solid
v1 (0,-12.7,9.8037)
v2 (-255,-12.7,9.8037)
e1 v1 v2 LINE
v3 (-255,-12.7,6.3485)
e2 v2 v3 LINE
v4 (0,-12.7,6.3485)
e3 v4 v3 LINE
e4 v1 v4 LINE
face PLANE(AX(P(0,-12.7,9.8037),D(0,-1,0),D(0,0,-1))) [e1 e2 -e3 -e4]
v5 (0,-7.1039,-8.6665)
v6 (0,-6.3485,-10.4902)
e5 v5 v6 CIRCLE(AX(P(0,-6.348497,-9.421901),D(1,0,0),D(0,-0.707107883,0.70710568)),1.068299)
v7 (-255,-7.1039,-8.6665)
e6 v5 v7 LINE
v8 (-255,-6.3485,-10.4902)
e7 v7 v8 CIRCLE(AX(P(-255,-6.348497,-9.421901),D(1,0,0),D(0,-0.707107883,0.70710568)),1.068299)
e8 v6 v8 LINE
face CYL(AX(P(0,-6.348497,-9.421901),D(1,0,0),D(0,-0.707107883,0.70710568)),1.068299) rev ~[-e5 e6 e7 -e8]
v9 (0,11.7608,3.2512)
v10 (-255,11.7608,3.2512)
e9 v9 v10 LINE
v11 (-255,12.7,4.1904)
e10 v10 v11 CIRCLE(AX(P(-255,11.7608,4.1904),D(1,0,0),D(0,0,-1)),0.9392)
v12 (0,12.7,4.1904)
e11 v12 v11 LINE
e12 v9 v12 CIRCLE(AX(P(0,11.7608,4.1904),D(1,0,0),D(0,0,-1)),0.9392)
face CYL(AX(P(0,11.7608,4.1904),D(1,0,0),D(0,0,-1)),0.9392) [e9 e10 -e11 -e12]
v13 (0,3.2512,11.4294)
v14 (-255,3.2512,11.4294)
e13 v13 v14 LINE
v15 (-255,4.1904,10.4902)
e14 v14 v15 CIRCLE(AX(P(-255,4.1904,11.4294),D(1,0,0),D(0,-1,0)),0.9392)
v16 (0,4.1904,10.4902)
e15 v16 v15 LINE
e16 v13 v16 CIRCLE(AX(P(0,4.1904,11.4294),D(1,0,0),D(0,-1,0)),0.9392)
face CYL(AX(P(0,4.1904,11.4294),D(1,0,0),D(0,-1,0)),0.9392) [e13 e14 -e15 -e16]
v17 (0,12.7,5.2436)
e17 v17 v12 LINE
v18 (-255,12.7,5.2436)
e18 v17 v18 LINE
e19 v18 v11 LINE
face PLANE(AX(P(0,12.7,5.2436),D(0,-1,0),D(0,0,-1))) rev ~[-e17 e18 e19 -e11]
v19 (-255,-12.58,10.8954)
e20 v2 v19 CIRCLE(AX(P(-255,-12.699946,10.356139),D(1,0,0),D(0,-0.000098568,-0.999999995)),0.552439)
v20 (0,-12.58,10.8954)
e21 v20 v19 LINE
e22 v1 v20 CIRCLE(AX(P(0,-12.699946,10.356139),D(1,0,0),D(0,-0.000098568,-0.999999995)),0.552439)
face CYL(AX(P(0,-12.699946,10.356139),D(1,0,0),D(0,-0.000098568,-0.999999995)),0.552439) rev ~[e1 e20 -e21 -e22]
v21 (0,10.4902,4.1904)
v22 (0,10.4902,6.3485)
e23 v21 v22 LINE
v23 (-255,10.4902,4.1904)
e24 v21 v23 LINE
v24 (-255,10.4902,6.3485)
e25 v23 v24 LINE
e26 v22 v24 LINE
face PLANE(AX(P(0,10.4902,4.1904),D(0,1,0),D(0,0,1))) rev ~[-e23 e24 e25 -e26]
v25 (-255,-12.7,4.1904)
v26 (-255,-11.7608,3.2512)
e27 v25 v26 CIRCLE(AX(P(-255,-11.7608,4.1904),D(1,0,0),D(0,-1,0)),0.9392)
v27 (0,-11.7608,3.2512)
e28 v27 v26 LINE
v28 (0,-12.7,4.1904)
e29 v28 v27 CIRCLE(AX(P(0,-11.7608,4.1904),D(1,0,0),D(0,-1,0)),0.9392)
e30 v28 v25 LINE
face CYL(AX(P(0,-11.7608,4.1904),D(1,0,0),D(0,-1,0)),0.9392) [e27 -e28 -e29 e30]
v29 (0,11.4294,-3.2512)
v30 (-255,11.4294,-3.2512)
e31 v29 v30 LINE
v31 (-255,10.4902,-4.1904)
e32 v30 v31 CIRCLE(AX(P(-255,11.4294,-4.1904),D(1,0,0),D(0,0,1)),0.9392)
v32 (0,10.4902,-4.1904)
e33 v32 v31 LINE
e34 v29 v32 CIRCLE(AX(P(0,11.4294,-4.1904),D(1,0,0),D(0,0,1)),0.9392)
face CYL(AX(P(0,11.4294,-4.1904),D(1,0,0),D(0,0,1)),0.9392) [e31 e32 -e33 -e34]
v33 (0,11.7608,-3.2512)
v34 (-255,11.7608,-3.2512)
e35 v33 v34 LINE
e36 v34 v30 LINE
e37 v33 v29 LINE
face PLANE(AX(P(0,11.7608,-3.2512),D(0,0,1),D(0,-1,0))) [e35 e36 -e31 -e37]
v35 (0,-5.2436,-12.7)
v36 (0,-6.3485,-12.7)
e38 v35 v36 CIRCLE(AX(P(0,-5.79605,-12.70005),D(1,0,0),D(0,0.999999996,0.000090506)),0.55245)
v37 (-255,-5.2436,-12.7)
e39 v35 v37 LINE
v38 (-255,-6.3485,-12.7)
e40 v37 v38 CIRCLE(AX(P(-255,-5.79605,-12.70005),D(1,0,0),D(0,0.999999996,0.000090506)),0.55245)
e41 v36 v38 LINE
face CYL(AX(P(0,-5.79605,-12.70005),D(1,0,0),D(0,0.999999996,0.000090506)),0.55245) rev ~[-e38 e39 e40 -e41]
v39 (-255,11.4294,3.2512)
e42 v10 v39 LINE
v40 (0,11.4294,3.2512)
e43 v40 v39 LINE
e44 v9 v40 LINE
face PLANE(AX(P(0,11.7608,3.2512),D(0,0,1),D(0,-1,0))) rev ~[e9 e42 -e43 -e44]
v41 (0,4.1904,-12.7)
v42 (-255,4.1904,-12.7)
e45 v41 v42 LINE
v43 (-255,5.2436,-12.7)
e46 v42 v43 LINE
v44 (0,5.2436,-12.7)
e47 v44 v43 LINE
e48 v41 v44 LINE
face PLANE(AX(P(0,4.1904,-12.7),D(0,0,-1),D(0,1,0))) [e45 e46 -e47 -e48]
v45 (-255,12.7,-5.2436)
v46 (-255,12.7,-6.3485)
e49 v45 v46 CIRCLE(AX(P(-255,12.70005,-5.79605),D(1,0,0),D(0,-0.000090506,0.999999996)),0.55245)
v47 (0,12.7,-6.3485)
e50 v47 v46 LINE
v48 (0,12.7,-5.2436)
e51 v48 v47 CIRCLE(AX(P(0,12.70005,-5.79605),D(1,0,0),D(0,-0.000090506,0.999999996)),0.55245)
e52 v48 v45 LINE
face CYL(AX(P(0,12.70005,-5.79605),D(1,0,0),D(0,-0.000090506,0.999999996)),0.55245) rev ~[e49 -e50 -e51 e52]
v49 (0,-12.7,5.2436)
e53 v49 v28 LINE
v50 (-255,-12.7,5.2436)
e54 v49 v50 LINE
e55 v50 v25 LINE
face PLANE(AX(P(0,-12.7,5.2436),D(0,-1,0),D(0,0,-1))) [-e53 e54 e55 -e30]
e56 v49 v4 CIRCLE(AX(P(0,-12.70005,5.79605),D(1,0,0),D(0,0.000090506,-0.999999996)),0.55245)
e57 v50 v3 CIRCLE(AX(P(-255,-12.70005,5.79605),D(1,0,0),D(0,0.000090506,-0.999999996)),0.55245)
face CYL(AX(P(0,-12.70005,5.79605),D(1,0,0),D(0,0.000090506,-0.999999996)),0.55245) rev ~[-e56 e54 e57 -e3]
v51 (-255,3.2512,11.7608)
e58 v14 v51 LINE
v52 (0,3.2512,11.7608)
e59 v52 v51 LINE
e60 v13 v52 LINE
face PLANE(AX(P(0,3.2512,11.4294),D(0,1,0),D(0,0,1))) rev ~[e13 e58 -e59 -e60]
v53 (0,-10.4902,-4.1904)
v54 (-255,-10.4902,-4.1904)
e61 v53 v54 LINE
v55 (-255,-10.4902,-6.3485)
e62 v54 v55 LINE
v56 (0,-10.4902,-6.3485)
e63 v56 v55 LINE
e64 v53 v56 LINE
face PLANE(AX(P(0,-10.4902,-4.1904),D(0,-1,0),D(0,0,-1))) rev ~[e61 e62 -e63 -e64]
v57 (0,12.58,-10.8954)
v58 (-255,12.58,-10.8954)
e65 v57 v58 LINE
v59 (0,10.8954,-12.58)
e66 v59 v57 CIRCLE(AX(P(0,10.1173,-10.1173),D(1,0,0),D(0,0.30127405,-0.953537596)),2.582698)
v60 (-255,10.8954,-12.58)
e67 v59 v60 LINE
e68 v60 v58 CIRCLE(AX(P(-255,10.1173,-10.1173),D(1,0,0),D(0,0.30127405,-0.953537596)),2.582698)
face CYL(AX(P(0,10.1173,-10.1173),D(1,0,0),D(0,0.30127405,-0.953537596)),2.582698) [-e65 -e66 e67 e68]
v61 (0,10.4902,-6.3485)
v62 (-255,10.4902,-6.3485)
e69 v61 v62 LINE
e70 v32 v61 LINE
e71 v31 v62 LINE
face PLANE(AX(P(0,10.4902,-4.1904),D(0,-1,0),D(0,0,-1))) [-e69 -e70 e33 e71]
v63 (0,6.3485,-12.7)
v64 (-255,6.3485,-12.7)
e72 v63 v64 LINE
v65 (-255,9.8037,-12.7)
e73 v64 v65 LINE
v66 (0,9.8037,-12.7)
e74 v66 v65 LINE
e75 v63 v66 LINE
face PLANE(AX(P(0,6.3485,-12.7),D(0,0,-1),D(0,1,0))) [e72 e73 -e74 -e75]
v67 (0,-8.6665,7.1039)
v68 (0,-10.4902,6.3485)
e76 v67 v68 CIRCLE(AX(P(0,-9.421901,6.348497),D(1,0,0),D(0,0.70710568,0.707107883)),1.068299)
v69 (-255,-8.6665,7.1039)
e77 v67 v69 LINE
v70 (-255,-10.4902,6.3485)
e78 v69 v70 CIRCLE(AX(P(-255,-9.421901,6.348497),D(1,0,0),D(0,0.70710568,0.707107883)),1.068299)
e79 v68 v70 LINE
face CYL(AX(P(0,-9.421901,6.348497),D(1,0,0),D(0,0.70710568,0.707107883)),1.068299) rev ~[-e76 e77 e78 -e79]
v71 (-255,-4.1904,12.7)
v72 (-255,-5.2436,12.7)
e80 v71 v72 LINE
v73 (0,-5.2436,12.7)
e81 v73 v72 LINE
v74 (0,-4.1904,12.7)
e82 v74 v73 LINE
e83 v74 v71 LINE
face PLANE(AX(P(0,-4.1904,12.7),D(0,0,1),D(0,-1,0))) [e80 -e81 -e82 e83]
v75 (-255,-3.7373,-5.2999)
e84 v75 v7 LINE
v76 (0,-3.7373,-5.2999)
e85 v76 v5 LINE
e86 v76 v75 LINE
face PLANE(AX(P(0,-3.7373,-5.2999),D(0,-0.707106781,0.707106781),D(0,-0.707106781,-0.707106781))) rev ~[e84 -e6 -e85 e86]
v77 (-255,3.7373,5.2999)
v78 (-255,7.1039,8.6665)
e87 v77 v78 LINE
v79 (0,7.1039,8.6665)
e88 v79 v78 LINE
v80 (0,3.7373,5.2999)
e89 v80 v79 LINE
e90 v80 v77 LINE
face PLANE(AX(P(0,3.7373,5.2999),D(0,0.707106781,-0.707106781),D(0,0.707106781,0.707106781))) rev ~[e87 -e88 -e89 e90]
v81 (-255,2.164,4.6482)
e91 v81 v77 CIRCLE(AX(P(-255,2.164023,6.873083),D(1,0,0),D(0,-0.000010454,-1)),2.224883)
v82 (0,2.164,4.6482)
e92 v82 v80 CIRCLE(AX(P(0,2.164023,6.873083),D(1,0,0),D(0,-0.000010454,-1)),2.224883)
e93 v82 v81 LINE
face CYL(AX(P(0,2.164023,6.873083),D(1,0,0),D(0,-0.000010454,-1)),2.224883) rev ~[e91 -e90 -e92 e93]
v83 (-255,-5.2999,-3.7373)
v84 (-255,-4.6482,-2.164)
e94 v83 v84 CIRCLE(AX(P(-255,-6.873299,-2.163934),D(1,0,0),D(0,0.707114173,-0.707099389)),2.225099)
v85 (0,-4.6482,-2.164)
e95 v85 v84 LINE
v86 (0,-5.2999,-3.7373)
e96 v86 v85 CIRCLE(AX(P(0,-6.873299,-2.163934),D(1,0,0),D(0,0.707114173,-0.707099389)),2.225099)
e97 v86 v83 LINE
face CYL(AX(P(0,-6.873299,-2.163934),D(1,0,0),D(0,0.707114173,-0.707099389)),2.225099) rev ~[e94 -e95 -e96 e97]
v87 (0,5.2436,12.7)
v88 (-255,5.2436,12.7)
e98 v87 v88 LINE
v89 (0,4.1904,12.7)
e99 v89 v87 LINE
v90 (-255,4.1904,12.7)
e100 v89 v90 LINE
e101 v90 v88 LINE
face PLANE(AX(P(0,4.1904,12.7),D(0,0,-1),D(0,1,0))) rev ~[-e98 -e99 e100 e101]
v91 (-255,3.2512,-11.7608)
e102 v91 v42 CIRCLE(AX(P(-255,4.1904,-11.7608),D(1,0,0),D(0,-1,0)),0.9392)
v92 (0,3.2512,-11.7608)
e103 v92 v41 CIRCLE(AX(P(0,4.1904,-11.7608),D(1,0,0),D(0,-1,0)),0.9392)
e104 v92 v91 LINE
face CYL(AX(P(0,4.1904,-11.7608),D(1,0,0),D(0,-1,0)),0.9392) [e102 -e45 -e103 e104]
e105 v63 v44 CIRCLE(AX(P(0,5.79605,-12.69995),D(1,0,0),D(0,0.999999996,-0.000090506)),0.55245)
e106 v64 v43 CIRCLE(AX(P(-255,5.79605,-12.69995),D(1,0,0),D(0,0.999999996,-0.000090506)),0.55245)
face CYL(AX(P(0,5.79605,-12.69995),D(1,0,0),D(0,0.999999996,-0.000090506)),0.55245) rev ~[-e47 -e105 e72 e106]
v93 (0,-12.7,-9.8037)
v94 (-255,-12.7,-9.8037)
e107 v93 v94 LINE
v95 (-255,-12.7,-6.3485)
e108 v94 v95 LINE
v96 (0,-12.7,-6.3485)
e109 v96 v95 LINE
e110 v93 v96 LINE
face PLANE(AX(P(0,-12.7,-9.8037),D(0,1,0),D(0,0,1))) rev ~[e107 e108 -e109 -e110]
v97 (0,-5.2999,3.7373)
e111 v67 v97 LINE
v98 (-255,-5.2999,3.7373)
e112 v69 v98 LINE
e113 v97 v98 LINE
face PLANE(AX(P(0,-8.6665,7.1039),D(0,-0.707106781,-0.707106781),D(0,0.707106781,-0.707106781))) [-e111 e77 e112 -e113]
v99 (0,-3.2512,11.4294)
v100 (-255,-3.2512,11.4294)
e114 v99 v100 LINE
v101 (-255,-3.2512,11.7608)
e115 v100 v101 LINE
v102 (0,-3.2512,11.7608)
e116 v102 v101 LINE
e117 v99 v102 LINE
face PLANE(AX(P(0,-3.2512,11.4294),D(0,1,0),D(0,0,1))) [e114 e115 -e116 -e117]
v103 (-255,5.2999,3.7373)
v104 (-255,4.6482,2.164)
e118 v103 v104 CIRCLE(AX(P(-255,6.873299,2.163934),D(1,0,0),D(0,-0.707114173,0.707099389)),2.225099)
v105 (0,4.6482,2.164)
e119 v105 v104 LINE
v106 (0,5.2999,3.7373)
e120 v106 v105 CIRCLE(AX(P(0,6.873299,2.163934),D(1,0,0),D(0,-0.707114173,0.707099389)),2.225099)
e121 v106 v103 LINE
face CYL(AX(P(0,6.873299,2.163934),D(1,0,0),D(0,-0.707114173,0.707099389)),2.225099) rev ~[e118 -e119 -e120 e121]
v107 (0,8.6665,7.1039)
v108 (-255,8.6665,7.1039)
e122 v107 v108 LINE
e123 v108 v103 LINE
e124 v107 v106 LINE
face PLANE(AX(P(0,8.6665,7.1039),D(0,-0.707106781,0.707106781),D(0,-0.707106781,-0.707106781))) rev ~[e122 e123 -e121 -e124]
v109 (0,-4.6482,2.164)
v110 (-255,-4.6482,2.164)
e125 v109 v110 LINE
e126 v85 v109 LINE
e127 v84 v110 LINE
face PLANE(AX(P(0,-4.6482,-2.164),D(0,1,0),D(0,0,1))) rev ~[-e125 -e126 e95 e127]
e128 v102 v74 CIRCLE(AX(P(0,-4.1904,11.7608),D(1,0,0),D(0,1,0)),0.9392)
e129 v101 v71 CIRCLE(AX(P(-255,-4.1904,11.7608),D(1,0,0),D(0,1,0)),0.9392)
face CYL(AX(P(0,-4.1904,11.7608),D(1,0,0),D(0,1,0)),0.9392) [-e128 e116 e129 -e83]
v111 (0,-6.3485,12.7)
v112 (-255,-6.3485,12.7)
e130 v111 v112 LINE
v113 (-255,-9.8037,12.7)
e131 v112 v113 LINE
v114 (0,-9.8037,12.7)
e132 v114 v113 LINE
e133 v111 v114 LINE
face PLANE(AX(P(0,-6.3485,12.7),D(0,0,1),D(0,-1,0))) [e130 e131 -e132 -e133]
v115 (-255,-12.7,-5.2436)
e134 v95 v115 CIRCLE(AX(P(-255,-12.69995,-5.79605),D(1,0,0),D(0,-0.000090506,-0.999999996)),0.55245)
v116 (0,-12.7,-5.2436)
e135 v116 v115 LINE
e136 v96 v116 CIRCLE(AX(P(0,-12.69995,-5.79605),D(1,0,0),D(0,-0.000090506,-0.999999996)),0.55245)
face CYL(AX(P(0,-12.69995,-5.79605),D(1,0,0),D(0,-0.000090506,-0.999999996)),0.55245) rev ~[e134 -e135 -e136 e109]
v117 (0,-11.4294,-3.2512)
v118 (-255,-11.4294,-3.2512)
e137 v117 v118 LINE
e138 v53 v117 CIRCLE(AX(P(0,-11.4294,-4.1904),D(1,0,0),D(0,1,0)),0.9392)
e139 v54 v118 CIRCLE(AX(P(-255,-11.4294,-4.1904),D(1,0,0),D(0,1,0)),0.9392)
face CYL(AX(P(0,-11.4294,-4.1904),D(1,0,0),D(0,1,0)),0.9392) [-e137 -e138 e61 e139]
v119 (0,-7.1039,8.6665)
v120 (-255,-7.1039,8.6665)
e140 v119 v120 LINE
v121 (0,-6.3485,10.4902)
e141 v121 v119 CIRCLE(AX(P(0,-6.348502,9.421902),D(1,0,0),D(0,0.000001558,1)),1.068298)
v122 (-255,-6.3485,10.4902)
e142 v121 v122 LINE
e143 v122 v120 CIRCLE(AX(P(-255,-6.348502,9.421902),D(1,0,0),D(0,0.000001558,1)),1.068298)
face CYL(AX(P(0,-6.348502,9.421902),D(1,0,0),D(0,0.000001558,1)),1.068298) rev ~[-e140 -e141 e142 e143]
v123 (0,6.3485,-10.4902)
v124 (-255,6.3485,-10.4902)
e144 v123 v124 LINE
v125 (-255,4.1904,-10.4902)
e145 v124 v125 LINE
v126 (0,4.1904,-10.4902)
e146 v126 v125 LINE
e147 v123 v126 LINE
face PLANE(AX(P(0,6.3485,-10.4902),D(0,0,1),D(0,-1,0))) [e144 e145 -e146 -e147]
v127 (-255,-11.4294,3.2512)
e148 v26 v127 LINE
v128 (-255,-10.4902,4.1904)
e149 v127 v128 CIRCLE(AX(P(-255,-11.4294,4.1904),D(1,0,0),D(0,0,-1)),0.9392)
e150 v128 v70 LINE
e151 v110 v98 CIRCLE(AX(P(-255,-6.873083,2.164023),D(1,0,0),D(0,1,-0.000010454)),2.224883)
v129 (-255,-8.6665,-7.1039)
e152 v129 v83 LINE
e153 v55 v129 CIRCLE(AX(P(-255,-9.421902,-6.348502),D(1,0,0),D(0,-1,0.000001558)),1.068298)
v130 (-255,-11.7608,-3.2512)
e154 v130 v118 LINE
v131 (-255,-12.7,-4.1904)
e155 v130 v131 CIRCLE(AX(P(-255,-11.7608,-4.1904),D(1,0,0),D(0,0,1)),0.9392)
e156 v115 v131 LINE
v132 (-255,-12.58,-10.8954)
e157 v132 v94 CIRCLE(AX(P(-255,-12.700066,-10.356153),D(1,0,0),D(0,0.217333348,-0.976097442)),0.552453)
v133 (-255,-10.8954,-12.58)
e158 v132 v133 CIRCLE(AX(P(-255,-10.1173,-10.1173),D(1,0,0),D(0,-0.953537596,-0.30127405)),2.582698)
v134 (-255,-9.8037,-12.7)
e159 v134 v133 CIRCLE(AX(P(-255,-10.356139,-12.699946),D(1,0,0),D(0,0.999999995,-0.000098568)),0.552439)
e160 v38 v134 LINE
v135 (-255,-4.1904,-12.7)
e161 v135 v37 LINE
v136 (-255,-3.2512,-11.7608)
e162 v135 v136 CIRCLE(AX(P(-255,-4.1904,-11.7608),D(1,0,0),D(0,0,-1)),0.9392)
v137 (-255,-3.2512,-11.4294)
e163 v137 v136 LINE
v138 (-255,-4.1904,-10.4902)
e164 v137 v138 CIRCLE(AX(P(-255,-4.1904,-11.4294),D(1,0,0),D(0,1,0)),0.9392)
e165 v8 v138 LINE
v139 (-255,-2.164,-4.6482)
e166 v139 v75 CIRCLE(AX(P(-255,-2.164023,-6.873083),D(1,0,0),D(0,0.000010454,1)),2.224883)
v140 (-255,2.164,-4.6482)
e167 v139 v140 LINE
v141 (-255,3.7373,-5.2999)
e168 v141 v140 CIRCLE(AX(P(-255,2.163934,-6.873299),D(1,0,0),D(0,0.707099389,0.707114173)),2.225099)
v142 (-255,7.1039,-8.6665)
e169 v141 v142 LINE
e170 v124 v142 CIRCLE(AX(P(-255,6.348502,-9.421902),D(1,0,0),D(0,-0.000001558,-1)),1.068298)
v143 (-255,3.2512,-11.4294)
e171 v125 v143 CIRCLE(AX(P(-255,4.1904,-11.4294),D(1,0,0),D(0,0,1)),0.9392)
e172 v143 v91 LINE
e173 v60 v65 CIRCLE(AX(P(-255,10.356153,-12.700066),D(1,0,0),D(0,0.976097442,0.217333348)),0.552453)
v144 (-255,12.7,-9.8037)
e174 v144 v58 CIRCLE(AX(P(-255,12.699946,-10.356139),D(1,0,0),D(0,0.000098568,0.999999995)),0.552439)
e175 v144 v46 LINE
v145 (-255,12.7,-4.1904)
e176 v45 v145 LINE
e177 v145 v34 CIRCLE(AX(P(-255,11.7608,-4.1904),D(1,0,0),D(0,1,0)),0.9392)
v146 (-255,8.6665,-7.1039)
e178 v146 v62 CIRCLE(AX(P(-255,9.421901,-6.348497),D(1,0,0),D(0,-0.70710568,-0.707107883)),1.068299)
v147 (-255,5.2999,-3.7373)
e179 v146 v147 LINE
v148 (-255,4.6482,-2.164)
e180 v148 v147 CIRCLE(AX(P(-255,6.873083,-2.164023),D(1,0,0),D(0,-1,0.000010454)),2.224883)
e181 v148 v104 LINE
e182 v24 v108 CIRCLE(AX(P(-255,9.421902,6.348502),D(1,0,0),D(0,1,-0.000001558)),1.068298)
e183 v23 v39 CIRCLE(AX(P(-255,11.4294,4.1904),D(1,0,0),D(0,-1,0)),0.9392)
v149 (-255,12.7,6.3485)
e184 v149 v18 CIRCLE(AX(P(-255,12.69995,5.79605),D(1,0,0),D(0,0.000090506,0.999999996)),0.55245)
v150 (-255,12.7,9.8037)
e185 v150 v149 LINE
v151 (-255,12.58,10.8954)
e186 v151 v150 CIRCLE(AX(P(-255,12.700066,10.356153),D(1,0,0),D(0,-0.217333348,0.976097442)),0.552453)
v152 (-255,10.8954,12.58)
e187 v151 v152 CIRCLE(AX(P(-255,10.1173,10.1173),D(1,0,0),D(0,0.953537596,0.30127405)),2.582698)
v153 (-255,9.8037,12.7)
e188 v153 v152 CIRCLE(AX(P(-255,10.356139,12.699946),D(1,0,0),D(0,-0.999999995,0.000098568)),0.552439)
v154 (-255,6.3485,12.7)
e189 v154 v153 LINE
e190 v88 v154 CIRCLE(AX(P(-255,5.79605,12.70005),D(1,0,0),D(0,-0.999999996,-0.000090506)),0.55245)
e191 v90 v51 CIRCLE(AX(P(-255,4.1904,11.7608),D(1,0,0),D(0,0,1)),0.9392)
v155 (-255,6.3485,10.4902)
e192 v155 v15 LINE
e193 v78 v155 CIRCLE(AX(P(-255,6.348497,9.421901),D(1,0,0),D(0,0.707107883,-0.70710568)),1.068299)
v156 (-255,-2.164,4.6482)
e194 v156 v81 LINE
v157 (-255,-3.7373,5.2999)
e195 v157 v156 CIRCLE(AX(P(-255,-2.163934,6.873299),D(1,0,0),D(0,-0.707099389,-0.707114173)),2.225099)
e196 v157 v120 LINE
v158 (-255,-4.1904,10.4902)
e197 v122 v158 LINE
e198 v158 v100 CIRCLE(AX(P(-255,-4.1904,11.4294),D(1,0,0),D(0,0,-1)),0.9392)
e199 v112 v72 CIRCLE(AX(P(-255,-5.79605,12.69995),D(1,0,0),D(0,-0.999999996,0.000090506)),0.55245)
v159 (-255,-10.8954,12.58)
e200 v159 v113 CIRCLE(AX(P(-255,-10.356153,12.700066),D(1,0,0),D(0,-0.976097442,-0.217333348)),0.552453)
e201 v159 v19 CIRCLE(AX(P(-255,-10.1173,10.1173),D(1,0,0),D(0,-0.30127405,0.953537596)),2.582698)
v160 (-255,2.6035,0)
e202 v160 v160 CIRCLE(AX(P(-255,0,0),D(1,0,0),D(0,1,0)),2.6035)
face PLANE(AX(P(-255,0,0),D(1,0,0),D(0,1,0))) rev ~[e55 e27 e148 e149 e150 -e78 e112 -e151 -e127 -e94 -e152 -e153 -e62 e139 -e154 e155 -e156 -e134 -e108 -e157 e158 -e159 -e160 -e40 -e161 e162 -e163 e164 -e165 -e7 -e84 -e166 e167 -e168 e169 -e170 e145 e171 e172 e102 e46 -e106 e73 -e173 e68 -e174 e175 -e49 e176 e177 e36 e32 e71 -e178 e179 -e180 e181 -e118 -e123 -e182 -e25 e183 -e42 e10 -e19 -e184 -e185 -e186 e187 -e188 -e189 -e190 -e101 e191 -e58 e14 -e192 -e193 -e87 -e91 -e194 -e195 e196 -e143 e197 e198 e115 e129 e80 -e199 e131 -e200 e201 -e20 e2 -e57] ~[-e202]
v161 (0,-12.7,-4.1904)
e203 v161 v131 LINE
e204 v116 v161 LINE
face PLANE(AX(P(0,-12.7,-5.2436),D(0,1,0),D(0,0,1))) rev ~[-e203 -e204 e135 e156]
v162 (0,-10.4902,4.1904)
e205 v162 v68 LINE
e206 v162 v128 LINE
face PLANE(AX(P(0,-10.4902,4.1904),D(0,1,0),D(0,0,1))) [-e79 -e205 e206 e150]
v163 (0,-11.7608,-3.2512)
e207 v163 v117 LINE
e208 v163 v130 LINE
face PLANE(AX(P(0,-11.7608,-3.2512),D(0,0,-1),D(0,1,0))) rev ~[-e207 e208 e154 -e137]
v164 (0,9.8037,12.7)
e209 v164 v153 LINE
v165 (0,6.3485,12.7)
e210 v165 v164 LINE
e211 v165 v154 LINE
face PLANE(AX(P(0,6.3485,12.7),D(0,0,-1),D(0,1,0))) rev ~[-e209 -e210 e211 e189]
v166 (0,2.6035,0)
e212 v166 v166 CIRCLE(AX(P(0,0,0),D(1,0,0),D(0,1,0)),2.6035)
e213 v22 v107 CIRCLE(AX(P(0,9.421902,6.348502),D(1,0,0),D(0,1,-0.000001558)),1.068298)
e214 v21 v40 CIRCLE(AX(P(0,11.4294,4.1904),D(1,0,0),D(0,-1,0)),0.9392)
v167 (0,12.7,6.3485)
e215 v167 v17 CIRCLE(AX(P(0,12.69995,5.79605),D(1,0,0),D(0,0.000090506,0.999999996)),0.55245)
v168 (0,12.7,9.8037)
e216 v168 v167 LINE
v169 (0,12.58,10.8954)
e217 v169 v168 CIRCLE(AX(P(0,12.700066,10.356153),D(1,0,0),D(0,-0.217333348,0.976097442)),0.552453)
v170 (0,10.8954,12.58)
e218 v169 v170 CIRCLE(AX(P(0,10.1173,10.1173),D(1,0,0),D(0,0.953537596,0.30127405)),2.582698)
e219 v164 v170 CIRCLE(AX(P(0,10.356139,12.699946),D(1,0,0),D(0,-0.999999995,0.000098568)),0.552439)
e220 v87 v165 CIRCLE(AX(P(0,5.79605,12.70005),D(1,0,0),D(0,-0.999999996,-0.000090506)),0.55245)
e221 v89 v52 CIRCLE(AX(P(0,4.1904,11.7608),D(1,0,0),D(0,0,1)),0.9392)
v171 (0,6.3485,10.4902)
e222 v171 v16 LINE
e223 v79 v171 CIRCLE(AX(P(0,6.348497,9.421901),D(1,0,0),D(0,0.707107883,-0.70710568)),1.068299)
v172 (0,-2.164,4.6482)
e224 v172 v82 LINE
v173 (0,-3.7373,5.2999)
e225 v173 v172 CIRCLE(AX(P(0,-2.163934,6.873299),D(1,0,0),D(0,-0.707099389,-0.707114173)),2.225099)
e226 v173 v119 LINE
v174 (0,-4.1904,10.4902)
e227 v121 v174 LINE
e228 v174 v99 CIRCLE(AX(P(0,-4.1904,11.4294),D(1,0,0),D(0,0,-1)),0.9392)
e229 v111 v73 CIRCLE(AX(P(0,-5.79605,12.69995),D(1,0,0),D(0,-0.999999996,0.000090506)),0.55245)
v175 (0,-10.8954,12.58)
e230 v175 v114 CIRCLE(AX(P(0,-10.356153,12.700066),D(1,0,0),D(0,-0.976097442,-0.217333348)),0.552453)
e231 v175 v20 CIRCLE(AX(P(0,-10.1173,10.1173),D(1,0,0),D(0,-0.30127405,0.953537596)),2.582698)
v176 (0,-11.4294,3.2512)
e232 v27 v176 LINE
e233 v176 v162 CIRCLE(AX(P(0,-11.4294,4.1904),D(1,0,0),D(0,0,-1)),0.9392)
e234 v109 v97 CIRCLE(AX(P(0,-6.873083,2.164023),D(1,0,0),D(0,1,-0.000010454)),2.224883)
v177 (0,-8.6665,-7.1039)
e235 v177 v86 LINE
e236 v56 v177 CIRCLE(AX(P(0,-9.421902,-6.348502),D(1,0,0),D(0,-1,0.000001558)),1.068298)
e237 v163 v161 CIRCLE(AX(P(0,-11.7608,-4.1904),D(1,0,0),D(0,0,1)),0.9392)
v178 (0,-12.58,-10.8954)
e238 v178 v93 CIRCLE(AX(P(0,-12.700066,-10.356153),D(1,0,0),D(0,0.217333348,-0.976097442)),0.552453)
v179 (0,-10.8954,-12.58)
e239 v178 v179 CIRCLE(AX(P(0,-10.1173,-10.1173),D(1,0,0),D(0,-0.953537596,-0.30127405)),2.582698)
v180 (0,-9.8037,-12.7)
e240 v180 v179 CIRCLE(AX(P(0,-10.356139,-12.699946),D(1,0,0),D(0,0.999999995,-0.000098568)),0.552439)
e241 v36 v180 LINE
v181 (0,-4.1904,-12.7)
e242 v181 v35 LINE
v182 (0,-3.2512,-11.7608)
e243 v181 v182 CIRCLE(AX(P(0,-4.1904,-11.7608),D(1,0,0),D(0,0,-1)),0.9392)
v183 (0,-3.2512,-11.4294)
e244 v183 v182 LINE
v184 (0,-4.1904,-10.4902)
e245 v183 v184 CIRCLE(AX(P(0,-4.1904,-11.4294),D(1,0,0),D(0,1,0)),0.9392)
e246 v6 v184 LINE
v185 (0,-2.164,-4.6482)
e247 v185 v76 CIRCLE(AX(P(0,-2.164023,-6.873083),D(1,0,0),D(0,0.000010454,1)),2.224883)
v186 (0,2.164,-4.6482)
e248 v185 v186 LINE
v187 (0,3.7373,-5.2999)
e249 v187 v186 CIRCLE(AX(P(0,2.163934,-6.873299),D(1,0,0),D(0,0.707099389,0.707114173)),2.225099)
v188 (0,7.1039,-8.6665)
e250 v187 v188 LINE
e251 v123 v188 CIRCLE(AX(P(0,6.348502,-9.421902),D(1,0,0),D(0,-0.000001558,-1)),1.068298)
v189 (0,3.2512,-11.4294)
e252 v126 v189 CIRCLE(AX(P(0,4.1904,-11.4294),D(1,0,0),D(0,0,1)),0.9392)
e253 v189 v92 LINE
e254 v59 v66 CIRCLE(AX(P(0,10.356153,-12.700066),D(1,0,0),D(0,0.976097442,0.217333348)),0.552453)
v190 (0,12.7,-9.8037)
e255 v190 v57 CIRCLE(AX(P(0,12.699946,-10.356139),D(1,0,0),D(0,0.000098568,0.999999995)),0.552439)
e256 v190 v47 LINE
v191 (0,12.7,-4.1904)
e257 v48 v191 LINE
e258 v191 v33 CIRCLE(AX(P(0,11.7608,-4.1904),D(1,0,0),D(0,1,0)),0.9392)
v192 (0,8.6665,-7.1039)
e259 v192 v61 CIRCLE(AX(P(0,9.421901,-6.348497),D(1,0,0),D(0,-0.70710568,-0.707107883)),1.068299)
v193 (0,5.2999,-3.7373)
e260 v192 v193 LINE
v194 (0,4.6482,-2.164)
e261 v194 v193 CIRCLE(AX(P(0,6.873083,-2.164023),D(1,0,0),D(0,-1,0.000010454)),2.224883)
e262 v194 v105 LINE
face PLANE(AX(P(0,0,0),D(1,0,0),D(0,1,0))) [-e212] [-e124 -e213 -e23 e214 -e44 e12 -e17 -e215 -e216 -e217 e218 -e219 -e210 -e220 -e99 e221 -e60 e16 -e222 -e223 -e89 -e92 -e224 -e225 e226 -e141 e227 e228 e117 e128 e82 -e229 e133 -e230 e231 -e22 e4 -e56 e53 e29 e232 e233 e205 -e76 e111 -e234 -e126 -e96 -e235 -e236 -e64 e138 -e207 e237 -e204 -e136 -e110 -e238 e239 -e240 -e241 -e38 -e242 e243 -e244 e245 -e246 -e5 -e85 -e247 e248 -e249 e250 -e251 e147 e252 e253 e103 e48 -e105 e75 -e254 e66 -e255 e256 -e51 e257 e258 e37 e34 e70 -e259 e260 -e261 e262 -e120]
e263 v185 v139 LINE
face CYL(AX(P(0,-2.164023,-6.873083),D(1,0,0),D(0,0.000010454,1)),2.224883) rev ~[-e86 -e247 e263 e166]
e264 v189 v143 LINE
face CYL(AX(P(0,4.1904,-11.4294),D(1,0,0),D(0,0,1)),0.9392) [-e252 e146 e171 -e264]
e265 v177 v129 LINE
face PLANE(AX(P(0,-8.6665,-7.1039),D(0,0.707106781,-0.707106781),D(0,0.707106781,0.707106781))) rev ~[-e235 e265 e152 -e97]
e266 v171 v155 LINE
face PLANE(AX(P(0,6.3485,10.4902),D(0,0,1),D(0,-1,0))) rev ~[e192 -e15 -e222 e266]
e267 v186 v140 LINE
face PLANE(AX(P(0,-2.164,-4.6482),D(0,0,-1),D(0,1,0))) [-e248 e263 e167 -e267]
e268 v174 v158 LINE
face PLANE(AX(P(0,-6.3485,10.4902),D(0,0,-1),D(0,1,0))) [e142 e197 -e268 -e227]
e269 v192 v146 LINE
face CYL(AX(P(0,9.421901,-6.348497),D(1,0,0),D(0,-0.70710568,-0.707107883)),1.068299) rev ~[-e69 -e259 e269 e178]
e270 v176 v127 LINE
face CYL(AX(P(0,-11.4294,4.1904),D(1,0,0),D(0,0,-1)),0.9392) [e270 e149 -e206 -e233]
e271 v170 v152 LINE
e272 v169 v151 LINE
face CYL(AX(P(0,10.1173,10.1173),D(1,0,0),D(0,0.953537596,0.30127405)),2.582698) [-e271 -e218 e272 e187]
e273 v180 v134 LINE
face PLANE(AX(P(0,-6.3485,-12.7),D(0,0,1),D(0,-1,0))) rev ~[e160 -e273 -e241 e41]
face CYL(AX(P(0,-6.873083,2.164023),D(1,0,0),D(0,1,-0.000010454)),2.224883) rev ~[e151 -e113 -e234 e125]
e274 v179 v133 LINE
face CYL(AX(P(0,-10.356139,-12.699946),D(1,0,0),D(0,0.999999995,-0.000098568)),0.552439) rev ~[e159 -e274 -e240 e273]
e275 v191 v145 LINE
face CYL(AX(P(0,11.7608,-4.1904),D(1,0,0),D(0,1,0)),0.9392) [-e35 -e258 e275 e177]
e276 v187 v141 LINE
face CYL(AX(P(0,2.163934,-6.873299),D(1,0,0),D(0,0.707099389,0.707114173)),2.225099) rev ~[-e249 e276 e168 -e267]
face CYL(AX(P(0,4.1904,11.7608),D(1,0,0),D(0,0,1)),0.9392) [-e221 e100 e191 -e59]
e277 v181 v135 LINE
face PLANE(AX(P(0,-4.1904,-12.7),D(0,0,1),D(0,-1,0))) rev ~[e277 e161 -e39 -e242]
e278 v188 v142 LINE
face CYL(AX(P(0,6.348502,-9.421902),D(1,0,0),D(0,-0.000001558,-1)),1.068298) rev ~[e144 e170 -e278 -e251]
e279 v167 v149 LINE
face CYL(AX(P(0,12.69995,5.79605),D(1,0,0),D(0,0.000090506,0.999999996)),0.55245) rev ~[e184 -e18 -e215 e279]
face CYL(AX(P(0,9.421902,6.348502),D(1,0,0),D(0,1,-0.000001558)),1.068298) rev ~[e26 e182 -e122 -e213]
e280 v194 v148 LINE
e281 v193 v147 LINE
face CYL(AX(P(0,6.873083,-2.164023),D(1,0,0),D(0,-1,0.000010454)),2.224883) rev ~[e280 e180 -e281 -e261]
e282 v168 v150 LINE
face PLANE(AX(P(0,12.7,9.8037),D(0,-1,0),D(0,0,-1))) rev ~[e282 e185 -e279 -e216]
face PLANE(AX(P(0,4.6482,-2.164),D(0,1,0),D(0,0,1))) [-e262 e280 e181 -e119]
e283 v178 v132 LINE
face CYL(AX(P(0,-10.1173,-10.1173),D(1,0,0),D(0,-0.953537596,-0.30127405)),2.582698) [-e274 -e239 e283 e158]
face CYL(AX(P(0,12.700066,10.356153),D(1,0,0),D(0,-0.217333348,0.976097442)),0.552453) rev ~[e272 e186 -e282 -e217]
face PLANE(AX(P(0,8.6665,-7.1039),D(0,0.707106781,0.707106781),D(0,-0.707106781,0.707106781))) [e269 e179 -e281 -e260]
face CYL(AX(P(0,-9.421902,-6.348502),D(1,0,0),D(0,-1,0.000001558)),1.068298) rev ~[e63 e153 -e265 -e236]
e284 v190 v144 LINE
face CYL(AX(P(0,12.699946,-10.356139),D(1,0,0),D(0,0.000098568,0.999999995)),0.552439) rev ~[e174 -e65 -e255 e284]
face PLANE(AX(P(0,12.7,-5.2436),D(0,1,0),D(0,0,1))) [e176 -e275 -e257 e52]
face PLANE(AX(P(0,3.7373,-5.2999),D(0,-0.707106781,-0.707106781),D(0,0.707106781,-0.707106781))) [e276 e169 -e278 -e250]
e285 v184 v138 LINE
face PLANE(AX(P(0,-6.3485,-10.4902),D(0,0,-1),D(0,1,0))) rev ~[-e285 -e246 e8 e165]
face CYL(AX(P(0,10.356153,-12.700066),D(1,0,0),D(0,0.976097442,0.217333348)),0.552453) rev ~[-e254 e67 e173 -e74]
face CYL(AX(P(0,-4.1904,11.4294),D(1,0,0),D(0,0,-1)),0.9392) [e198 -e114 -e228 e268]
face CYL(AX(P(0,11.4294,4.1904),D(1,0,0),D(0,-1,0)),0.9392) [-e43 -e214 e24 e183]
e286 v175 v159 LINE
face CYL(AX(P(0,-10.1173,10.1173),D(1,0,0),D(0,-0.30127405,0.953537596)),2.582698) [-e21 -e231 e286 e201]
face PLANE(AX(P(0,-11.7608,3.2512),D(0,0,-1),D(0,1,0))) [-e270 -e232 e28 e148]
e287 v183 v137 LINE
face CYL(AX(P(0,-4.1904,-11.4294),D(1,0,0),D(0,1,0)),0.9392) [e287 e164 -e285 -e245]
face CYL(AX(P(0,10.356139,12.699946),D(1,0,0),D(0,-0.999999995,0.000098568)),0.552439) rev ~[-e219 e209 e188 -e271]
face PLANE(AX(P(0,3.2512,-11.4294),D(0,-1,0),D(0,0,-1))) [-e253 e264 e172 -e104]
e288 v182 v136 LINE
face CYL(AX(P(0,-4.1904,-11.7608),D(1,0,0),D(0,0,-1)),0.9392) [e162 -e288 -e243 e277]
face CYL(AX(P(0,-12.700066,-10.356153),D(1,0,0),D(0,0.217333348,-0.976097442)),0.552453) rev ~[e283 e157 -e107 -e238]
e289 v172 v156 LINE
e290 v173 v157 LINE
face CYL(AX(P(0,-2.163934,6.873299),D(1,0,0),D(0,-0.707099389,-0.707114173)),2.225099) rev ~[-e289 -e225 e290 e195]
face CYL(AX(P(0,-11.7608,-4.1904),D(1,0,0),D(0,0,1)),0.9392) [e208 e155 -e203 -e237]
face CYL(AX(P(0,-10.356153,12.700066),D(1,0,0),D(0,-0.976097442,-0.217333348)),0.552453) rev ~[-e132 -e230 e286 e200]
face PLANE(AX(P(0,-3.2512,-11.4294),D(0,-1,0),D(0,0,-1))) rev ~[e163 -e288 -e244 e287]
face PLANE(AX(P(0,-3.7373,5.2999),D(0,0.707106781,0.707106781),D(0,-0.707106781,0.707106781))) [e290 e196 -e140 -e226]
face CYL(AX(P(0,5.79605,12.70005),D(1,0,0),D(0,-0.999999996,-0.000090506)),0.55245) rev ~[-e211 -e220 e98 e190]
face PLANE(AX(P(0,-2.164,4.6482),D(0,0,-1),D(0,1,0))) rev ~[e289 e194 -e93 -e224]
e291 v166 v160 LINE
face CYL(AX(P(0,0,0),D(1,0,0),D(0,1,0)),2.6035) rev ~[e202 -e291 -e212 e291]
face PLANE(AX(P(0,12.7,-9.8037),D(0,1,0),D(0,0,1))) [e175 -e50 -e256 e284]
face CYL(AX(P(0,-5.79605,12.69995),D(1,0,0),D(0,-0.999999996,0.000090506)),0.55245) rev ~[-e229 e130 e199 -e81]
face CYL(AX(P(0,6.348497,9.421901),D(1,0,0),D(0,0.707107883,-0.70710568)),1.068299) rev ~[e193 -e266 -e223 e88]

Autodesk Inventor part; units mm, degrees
ref_plane "YZ Plane" through (0, 0, 0) normal (1, 0, 0) x (0, 1, 0)
ref_plane "XZ Plane" through (0, 0, 0) normal (0, 1, 0) x (-1, 0, 0)
ref_plane "XY Plane" through (0, 0, 0) normal (0, 0, 1) x (1, 0, 0)
sketch "Sketch1" plane through (0, 0, 0) normal (1, 0, 0) x (0, 1, 0)
  arc A0 (12.7, -5.2436) -> (12.7, -6.3485) centre (12.7, -5.796) ccw
  line L0 (12.7, -5.2436) -> (12.7, -4.1904)
  arc A1 (12.7, -4.1904) -> (11.7608, -3.2512) centre (11.7608, -4.1904) ccw
  line L1 (11.7608, -3.2512) -> (11.4294, -3.2512)
  arc A2 (11.4294, -3.2512) -> (10.4902, -4.1904) centre (11.4294, -4.1904) ccw
  line L2 (10.4902, -4.1904) -> (10.4902, -6.3485)
  arc A3 (8.6665, -7.1039) -> (10.4902, -6.3485) centre (9.4219, -6.3485) ccw
  line L3 (8.6665, -7.1039) -> (5.2999, -3.7373)
  arc A4 (4.6482, -2.164) -> (5.2999, -3.7373) centre (6.8732, -2.164) ccw
  line L4 (4.6482, -2.164) -> (4.6482, 2.164)
  arc A5 (5.2999, 3.7373) -> (4.6482, 2.164) centre (6.8732, 2.164) ccw
  line L5 (8.6665, 7.1039) -> (5.2999, 3.7373)
  arc A6 (10.4902, 6.3485) -> (8.6665, 7.1039) centre (9.4219, 6.3485) ccw
  line L6 (10.4902, 4.1904) -> (10.4902, 6.3485)
  arc A7 (10.4902, 4.1904) -> (11.4294, 3.2512) centre (11.4294, 4.1904) ccw
  line L7 (11.7608, 3.2512) -> (11.4294, 3.2512)
  arc A8 (11.7608, 3.2512) -> (12.7, 4.1904) centre (11.7608, 4.1904) ccw
  line L8 (12.7, 5.2436) -> (12.7, 4.1904)
  arc A9 (12.7, 6.3485) -> (12.7, 5.2436) centre (12.7, 5.796) ccw
  line L9 (12.7, 9.8037) -> (12.7, 6.3485)
  arc A10 (12.58, 10.8954) -> (12.7, 9.8037) centre (12.7, 10.3562) ccw
  arc A11 (12.58, 10.8954) -> (10.8954, 12.58) centre (10.1173, 10.1173) ccw
  arc A12 (9.8037, 12.7) -> (10.8954, 12.58) centre (10.3562, 12.7) ccw
  line L10 (6.3485, 12.7) -> (9.8037, 12.7)
  arc A13 (5.2436, 12.7) -> (6.3485, 12.7) centre (5.796, 12.7) ccw
  line L11 (4.1904, 12.7) -> (5.2436, 12.7)
  arc A14 (4.1904, 12.7) -> (3.2512, 11.7608) centre (4.1904, 11.7608) ccw
  line L12 (3.2512, 11.4294) -> (3.2512, 11.7608)
  arc A15 (3.2512, 11.4294) -> (4.1904, 10.4902) centre (4.1904, 11.4294) ccw
  line L13 (6.3485, 10.4902) -> (4.1904, 10.4902)
  arc A16 (7.1039, 8.6665) -> (6.3485, 10.4902) centre (6.3485, 9.4219) ccw
  line L14 (3.7373, 5.2999) -> (7.1039, 8.6665)
  arc A17 (2.164, 4.6482) -> (3.7373, 5.2999) centre (2.164, 6.8732) ccw
  line L15 (-2.164, 4.6482) -> (2.164, 4.6482)
  arc A18 (-3.7373, 5.2999) -> (-2.164, 4.6482) centre (-2.164, 6.8732) ccw
  line L16 (-3.7373, 5.2999) -> (-7.1039, 8.6665)
  arc A19 (-6.3485, 10.4902) -> (-7.1039, 8.6665) centre (-6.3485, 9.4219) ccw
  line L17 (-6.3485, 10.4902) -> (-4.1904, 10.4902)
  arc A20 (-4.1904, 10.4902) -> (-3.2512, 11.4294) centre (-4.1904, 11.4294) ccw
  line L18 (-3.2512, 11.4294) -> (-3.2512, 11.7608)
  arc A21 (-3.2512, 11.7608) -> (-4.1904, 12.7) centre (-4.1904, 11.7608) ccw
  line L19 (-4.1904, 12.7) -> (-5.2436, 12.7)
  arc A22 (-6.3485, 12.7) -> (-5.2436, 12.7) centre (-5.796, 12.7) ccw
  line L20 (-6.3485, 12.7) -> (-9.8037, 12.7)
  arc A23 (-10.8954, 12.58) -> (-9.8037, 12.7) centre (-10.3562, 12.7) ccw
  arc A24 (-10.8954, 12.58) -> (-12.58, 10.8954) centre (-10.1173, 10.1173) ccw
  arc A25 (-12.7, 9.8037) -> (-12.58, 10.8954) centre (-12.7, 10.3562) ccw
  line L21 (-12.7, 9.8037) -> (-12.7, 6.3485)
  arc A26 (-12.7, 5.2436) -> (-12.7, 6.3485) centre (-12.7, 5.796) ccw
  line L22 (-12.7, 5.2436) -> (-12.7, 4.1904)
  arc A27 (-12.7, 4.1904) -> (-11.7608, 3.2512) centre (-11.7608, 4.1904) ccw
  line L23 (-11.7608, 3.2512) -> (-11.4294, 3.2512)
  arc A28 (-11.4294, 3.2512) -> (-10.4902, 4.1904) centre (-11.4294, 4.1904) ccw
  line L24 (-10.4902, 4.1904) -> (-10.4902, 6.3485)
  arc A29 (-8.6665, 7.1039) -> (-10.4902, 6.3485) centre (-9.4219, 6.3485) ccw
  line L25 (-8.6665, 7.1039) -> (-5.2999, 3.7373)
  arc A30 (-4.6482, 2.164) -> (-5.2999, 3.7373) centre (-6.8732, 2.164) ccw
  line L26 (-4.6482, -2.164) -> (-4.6482, 2.164)
  arc A31 (-5.2999, -3.7373) -> (-4.6482, -2.164) centre (-6.8732, -2.164) ccw
  line L27 (-8.6665, -7.1039) -> (-5.2999, -3.7373)
  arc A32 (-10.4902, -6.3485) -> (-8.6665, -7.1039) centre (-9.4219, -6.3485) ccw
  line L28 (-10.4902, -4.1904) -> (-10.4902, -6.3485)
  arc A33 (-10.4902, -4.1904) -> (-11.4294, -3.2512) centre (-11.4294, -4.1904) ccw
  line L29 (-11.7608, -3.2512) -> (-11.4294, -3.2512)
  arc A34 (-11.7608, -3.2512) -> (-12.7, -4.1904) centre (-11.7608, -4.1904) ccw
  line L30 (-12.7, -5.2436) -> (-12.7, -4.1904)
  arc A35 (-12.7, -6.3485) -> (-12.7, -5.2436) centre (-12.7, -5.796) ccw
  line L31 (-12.7, -9.8037) -> (-12.7, -6.3485)
  arc A36 (-12.58, -10.8954) -> (-12.7, -9.8037) centre (-12.7, -10.3562) ccw
  arc A37 (-12.58, -10.8954) -> (-10.8954, -12.58) centre (-10.1173, -10.1173) ccw
  arc A38 (-9.8037, -12.7) -> (-10.8954, -12.58) centre (-10.3562, -12.7) ccw
  line L32 (-6.3485, -12.7) -> (-9.8037, -12.7)
  arc A39 (-5.2436, -12.7) -> (-6.3485, -12.7) centre (-5.796, -12.7) ccw
  line L33 (-4.1904, -12.7) -> (-5.2436, -12.7)
  arc A40 (-4.1904, -12.7) -> (-3.2512, -11.7608) centre (-4.1904, -11.7608) ccw
  line L34 (-3.2512, -11.4294) -> (-3.2512, -11.7608)
  arc A41 (-3.2512, -11.4294) -> (-4.1904, -10.4902) centre (-4.1904, -11.4294) ccw
  line L35 (-6.3485, -10.4902) -> (-4.1904, -10.4902)
  arc A42 (-7.1039, -8.6665) -> (-6.3485, -10.4902) centre (-6.3485, -9.4219) ccw
  line L36 (-3.7373, -5.2999) -> (-7.1039, -8.6665)
  arc A43 (-2.164, -4.6482) -> (-3.7373, -5.2999) centre (-2.164, -6.8732) ccw
  line L37 (-2.164, -4.6482) -> (2.164, -4.6482)
  arc A44 (3.7373, -5.2999) -> (2.164, -4.6482) centre (2.164, -6.8732) ccw
  line L38 (3.7373, -5.2999) -> (7.1039, -8.6665)
  arc A45 (6.3485, -10.4902) -> (7.1039, -8.6665) centre (6.3485, -9.4219) ccw
  line L39 (6.3485, -10.4902) -> (4.1904, -10.4902)
  arc A46 (4.1904, -10.4902) -> (3.2512, -11.4294) centre (4.1904, -11.4294) ccw
  line L40 (3.2512, -11.4294) -> (3.2512, -11.7608)
  arc A47 (3.2512, -11.7608) -> (4.1904, -12.7) centre (4.1904, -11.7608) ccw
  line L41 (4.1904, -12.7) -> (5.2436, -12.7)
  arc A48 (6.3485, -12.7) -> (5.2436, -12.7) centre (5.796, -12.7) ccw
  line L42 (6.3485, -12.7) -> (9.8037, -12.7)
  arc A49 (10.8954, -12.58) -> (9.8037, -12.7) centre (10.3562, -12.7) ccw
  arc A50 (10.8954, -12.58) -> (12.58, -10.8954) centre (10.1173, -10.1173) ccw
  arc A51 (12.7, -9.8037) -> (12.58, -10.8954) centre (12.7, -10.3562) ccw
  line L43 (12.7, -9.8037) -> (12.7, -6.3485)
  circle A52 centre (0, 0) radius 2.6035
  point P0 (0, 0)
  point P1 (0, 0)
extrude "Extrusion1" add sketch "Sketch1" against normal blind 255
properties part number "horizontalStrut" material "Aluminum 6061"
